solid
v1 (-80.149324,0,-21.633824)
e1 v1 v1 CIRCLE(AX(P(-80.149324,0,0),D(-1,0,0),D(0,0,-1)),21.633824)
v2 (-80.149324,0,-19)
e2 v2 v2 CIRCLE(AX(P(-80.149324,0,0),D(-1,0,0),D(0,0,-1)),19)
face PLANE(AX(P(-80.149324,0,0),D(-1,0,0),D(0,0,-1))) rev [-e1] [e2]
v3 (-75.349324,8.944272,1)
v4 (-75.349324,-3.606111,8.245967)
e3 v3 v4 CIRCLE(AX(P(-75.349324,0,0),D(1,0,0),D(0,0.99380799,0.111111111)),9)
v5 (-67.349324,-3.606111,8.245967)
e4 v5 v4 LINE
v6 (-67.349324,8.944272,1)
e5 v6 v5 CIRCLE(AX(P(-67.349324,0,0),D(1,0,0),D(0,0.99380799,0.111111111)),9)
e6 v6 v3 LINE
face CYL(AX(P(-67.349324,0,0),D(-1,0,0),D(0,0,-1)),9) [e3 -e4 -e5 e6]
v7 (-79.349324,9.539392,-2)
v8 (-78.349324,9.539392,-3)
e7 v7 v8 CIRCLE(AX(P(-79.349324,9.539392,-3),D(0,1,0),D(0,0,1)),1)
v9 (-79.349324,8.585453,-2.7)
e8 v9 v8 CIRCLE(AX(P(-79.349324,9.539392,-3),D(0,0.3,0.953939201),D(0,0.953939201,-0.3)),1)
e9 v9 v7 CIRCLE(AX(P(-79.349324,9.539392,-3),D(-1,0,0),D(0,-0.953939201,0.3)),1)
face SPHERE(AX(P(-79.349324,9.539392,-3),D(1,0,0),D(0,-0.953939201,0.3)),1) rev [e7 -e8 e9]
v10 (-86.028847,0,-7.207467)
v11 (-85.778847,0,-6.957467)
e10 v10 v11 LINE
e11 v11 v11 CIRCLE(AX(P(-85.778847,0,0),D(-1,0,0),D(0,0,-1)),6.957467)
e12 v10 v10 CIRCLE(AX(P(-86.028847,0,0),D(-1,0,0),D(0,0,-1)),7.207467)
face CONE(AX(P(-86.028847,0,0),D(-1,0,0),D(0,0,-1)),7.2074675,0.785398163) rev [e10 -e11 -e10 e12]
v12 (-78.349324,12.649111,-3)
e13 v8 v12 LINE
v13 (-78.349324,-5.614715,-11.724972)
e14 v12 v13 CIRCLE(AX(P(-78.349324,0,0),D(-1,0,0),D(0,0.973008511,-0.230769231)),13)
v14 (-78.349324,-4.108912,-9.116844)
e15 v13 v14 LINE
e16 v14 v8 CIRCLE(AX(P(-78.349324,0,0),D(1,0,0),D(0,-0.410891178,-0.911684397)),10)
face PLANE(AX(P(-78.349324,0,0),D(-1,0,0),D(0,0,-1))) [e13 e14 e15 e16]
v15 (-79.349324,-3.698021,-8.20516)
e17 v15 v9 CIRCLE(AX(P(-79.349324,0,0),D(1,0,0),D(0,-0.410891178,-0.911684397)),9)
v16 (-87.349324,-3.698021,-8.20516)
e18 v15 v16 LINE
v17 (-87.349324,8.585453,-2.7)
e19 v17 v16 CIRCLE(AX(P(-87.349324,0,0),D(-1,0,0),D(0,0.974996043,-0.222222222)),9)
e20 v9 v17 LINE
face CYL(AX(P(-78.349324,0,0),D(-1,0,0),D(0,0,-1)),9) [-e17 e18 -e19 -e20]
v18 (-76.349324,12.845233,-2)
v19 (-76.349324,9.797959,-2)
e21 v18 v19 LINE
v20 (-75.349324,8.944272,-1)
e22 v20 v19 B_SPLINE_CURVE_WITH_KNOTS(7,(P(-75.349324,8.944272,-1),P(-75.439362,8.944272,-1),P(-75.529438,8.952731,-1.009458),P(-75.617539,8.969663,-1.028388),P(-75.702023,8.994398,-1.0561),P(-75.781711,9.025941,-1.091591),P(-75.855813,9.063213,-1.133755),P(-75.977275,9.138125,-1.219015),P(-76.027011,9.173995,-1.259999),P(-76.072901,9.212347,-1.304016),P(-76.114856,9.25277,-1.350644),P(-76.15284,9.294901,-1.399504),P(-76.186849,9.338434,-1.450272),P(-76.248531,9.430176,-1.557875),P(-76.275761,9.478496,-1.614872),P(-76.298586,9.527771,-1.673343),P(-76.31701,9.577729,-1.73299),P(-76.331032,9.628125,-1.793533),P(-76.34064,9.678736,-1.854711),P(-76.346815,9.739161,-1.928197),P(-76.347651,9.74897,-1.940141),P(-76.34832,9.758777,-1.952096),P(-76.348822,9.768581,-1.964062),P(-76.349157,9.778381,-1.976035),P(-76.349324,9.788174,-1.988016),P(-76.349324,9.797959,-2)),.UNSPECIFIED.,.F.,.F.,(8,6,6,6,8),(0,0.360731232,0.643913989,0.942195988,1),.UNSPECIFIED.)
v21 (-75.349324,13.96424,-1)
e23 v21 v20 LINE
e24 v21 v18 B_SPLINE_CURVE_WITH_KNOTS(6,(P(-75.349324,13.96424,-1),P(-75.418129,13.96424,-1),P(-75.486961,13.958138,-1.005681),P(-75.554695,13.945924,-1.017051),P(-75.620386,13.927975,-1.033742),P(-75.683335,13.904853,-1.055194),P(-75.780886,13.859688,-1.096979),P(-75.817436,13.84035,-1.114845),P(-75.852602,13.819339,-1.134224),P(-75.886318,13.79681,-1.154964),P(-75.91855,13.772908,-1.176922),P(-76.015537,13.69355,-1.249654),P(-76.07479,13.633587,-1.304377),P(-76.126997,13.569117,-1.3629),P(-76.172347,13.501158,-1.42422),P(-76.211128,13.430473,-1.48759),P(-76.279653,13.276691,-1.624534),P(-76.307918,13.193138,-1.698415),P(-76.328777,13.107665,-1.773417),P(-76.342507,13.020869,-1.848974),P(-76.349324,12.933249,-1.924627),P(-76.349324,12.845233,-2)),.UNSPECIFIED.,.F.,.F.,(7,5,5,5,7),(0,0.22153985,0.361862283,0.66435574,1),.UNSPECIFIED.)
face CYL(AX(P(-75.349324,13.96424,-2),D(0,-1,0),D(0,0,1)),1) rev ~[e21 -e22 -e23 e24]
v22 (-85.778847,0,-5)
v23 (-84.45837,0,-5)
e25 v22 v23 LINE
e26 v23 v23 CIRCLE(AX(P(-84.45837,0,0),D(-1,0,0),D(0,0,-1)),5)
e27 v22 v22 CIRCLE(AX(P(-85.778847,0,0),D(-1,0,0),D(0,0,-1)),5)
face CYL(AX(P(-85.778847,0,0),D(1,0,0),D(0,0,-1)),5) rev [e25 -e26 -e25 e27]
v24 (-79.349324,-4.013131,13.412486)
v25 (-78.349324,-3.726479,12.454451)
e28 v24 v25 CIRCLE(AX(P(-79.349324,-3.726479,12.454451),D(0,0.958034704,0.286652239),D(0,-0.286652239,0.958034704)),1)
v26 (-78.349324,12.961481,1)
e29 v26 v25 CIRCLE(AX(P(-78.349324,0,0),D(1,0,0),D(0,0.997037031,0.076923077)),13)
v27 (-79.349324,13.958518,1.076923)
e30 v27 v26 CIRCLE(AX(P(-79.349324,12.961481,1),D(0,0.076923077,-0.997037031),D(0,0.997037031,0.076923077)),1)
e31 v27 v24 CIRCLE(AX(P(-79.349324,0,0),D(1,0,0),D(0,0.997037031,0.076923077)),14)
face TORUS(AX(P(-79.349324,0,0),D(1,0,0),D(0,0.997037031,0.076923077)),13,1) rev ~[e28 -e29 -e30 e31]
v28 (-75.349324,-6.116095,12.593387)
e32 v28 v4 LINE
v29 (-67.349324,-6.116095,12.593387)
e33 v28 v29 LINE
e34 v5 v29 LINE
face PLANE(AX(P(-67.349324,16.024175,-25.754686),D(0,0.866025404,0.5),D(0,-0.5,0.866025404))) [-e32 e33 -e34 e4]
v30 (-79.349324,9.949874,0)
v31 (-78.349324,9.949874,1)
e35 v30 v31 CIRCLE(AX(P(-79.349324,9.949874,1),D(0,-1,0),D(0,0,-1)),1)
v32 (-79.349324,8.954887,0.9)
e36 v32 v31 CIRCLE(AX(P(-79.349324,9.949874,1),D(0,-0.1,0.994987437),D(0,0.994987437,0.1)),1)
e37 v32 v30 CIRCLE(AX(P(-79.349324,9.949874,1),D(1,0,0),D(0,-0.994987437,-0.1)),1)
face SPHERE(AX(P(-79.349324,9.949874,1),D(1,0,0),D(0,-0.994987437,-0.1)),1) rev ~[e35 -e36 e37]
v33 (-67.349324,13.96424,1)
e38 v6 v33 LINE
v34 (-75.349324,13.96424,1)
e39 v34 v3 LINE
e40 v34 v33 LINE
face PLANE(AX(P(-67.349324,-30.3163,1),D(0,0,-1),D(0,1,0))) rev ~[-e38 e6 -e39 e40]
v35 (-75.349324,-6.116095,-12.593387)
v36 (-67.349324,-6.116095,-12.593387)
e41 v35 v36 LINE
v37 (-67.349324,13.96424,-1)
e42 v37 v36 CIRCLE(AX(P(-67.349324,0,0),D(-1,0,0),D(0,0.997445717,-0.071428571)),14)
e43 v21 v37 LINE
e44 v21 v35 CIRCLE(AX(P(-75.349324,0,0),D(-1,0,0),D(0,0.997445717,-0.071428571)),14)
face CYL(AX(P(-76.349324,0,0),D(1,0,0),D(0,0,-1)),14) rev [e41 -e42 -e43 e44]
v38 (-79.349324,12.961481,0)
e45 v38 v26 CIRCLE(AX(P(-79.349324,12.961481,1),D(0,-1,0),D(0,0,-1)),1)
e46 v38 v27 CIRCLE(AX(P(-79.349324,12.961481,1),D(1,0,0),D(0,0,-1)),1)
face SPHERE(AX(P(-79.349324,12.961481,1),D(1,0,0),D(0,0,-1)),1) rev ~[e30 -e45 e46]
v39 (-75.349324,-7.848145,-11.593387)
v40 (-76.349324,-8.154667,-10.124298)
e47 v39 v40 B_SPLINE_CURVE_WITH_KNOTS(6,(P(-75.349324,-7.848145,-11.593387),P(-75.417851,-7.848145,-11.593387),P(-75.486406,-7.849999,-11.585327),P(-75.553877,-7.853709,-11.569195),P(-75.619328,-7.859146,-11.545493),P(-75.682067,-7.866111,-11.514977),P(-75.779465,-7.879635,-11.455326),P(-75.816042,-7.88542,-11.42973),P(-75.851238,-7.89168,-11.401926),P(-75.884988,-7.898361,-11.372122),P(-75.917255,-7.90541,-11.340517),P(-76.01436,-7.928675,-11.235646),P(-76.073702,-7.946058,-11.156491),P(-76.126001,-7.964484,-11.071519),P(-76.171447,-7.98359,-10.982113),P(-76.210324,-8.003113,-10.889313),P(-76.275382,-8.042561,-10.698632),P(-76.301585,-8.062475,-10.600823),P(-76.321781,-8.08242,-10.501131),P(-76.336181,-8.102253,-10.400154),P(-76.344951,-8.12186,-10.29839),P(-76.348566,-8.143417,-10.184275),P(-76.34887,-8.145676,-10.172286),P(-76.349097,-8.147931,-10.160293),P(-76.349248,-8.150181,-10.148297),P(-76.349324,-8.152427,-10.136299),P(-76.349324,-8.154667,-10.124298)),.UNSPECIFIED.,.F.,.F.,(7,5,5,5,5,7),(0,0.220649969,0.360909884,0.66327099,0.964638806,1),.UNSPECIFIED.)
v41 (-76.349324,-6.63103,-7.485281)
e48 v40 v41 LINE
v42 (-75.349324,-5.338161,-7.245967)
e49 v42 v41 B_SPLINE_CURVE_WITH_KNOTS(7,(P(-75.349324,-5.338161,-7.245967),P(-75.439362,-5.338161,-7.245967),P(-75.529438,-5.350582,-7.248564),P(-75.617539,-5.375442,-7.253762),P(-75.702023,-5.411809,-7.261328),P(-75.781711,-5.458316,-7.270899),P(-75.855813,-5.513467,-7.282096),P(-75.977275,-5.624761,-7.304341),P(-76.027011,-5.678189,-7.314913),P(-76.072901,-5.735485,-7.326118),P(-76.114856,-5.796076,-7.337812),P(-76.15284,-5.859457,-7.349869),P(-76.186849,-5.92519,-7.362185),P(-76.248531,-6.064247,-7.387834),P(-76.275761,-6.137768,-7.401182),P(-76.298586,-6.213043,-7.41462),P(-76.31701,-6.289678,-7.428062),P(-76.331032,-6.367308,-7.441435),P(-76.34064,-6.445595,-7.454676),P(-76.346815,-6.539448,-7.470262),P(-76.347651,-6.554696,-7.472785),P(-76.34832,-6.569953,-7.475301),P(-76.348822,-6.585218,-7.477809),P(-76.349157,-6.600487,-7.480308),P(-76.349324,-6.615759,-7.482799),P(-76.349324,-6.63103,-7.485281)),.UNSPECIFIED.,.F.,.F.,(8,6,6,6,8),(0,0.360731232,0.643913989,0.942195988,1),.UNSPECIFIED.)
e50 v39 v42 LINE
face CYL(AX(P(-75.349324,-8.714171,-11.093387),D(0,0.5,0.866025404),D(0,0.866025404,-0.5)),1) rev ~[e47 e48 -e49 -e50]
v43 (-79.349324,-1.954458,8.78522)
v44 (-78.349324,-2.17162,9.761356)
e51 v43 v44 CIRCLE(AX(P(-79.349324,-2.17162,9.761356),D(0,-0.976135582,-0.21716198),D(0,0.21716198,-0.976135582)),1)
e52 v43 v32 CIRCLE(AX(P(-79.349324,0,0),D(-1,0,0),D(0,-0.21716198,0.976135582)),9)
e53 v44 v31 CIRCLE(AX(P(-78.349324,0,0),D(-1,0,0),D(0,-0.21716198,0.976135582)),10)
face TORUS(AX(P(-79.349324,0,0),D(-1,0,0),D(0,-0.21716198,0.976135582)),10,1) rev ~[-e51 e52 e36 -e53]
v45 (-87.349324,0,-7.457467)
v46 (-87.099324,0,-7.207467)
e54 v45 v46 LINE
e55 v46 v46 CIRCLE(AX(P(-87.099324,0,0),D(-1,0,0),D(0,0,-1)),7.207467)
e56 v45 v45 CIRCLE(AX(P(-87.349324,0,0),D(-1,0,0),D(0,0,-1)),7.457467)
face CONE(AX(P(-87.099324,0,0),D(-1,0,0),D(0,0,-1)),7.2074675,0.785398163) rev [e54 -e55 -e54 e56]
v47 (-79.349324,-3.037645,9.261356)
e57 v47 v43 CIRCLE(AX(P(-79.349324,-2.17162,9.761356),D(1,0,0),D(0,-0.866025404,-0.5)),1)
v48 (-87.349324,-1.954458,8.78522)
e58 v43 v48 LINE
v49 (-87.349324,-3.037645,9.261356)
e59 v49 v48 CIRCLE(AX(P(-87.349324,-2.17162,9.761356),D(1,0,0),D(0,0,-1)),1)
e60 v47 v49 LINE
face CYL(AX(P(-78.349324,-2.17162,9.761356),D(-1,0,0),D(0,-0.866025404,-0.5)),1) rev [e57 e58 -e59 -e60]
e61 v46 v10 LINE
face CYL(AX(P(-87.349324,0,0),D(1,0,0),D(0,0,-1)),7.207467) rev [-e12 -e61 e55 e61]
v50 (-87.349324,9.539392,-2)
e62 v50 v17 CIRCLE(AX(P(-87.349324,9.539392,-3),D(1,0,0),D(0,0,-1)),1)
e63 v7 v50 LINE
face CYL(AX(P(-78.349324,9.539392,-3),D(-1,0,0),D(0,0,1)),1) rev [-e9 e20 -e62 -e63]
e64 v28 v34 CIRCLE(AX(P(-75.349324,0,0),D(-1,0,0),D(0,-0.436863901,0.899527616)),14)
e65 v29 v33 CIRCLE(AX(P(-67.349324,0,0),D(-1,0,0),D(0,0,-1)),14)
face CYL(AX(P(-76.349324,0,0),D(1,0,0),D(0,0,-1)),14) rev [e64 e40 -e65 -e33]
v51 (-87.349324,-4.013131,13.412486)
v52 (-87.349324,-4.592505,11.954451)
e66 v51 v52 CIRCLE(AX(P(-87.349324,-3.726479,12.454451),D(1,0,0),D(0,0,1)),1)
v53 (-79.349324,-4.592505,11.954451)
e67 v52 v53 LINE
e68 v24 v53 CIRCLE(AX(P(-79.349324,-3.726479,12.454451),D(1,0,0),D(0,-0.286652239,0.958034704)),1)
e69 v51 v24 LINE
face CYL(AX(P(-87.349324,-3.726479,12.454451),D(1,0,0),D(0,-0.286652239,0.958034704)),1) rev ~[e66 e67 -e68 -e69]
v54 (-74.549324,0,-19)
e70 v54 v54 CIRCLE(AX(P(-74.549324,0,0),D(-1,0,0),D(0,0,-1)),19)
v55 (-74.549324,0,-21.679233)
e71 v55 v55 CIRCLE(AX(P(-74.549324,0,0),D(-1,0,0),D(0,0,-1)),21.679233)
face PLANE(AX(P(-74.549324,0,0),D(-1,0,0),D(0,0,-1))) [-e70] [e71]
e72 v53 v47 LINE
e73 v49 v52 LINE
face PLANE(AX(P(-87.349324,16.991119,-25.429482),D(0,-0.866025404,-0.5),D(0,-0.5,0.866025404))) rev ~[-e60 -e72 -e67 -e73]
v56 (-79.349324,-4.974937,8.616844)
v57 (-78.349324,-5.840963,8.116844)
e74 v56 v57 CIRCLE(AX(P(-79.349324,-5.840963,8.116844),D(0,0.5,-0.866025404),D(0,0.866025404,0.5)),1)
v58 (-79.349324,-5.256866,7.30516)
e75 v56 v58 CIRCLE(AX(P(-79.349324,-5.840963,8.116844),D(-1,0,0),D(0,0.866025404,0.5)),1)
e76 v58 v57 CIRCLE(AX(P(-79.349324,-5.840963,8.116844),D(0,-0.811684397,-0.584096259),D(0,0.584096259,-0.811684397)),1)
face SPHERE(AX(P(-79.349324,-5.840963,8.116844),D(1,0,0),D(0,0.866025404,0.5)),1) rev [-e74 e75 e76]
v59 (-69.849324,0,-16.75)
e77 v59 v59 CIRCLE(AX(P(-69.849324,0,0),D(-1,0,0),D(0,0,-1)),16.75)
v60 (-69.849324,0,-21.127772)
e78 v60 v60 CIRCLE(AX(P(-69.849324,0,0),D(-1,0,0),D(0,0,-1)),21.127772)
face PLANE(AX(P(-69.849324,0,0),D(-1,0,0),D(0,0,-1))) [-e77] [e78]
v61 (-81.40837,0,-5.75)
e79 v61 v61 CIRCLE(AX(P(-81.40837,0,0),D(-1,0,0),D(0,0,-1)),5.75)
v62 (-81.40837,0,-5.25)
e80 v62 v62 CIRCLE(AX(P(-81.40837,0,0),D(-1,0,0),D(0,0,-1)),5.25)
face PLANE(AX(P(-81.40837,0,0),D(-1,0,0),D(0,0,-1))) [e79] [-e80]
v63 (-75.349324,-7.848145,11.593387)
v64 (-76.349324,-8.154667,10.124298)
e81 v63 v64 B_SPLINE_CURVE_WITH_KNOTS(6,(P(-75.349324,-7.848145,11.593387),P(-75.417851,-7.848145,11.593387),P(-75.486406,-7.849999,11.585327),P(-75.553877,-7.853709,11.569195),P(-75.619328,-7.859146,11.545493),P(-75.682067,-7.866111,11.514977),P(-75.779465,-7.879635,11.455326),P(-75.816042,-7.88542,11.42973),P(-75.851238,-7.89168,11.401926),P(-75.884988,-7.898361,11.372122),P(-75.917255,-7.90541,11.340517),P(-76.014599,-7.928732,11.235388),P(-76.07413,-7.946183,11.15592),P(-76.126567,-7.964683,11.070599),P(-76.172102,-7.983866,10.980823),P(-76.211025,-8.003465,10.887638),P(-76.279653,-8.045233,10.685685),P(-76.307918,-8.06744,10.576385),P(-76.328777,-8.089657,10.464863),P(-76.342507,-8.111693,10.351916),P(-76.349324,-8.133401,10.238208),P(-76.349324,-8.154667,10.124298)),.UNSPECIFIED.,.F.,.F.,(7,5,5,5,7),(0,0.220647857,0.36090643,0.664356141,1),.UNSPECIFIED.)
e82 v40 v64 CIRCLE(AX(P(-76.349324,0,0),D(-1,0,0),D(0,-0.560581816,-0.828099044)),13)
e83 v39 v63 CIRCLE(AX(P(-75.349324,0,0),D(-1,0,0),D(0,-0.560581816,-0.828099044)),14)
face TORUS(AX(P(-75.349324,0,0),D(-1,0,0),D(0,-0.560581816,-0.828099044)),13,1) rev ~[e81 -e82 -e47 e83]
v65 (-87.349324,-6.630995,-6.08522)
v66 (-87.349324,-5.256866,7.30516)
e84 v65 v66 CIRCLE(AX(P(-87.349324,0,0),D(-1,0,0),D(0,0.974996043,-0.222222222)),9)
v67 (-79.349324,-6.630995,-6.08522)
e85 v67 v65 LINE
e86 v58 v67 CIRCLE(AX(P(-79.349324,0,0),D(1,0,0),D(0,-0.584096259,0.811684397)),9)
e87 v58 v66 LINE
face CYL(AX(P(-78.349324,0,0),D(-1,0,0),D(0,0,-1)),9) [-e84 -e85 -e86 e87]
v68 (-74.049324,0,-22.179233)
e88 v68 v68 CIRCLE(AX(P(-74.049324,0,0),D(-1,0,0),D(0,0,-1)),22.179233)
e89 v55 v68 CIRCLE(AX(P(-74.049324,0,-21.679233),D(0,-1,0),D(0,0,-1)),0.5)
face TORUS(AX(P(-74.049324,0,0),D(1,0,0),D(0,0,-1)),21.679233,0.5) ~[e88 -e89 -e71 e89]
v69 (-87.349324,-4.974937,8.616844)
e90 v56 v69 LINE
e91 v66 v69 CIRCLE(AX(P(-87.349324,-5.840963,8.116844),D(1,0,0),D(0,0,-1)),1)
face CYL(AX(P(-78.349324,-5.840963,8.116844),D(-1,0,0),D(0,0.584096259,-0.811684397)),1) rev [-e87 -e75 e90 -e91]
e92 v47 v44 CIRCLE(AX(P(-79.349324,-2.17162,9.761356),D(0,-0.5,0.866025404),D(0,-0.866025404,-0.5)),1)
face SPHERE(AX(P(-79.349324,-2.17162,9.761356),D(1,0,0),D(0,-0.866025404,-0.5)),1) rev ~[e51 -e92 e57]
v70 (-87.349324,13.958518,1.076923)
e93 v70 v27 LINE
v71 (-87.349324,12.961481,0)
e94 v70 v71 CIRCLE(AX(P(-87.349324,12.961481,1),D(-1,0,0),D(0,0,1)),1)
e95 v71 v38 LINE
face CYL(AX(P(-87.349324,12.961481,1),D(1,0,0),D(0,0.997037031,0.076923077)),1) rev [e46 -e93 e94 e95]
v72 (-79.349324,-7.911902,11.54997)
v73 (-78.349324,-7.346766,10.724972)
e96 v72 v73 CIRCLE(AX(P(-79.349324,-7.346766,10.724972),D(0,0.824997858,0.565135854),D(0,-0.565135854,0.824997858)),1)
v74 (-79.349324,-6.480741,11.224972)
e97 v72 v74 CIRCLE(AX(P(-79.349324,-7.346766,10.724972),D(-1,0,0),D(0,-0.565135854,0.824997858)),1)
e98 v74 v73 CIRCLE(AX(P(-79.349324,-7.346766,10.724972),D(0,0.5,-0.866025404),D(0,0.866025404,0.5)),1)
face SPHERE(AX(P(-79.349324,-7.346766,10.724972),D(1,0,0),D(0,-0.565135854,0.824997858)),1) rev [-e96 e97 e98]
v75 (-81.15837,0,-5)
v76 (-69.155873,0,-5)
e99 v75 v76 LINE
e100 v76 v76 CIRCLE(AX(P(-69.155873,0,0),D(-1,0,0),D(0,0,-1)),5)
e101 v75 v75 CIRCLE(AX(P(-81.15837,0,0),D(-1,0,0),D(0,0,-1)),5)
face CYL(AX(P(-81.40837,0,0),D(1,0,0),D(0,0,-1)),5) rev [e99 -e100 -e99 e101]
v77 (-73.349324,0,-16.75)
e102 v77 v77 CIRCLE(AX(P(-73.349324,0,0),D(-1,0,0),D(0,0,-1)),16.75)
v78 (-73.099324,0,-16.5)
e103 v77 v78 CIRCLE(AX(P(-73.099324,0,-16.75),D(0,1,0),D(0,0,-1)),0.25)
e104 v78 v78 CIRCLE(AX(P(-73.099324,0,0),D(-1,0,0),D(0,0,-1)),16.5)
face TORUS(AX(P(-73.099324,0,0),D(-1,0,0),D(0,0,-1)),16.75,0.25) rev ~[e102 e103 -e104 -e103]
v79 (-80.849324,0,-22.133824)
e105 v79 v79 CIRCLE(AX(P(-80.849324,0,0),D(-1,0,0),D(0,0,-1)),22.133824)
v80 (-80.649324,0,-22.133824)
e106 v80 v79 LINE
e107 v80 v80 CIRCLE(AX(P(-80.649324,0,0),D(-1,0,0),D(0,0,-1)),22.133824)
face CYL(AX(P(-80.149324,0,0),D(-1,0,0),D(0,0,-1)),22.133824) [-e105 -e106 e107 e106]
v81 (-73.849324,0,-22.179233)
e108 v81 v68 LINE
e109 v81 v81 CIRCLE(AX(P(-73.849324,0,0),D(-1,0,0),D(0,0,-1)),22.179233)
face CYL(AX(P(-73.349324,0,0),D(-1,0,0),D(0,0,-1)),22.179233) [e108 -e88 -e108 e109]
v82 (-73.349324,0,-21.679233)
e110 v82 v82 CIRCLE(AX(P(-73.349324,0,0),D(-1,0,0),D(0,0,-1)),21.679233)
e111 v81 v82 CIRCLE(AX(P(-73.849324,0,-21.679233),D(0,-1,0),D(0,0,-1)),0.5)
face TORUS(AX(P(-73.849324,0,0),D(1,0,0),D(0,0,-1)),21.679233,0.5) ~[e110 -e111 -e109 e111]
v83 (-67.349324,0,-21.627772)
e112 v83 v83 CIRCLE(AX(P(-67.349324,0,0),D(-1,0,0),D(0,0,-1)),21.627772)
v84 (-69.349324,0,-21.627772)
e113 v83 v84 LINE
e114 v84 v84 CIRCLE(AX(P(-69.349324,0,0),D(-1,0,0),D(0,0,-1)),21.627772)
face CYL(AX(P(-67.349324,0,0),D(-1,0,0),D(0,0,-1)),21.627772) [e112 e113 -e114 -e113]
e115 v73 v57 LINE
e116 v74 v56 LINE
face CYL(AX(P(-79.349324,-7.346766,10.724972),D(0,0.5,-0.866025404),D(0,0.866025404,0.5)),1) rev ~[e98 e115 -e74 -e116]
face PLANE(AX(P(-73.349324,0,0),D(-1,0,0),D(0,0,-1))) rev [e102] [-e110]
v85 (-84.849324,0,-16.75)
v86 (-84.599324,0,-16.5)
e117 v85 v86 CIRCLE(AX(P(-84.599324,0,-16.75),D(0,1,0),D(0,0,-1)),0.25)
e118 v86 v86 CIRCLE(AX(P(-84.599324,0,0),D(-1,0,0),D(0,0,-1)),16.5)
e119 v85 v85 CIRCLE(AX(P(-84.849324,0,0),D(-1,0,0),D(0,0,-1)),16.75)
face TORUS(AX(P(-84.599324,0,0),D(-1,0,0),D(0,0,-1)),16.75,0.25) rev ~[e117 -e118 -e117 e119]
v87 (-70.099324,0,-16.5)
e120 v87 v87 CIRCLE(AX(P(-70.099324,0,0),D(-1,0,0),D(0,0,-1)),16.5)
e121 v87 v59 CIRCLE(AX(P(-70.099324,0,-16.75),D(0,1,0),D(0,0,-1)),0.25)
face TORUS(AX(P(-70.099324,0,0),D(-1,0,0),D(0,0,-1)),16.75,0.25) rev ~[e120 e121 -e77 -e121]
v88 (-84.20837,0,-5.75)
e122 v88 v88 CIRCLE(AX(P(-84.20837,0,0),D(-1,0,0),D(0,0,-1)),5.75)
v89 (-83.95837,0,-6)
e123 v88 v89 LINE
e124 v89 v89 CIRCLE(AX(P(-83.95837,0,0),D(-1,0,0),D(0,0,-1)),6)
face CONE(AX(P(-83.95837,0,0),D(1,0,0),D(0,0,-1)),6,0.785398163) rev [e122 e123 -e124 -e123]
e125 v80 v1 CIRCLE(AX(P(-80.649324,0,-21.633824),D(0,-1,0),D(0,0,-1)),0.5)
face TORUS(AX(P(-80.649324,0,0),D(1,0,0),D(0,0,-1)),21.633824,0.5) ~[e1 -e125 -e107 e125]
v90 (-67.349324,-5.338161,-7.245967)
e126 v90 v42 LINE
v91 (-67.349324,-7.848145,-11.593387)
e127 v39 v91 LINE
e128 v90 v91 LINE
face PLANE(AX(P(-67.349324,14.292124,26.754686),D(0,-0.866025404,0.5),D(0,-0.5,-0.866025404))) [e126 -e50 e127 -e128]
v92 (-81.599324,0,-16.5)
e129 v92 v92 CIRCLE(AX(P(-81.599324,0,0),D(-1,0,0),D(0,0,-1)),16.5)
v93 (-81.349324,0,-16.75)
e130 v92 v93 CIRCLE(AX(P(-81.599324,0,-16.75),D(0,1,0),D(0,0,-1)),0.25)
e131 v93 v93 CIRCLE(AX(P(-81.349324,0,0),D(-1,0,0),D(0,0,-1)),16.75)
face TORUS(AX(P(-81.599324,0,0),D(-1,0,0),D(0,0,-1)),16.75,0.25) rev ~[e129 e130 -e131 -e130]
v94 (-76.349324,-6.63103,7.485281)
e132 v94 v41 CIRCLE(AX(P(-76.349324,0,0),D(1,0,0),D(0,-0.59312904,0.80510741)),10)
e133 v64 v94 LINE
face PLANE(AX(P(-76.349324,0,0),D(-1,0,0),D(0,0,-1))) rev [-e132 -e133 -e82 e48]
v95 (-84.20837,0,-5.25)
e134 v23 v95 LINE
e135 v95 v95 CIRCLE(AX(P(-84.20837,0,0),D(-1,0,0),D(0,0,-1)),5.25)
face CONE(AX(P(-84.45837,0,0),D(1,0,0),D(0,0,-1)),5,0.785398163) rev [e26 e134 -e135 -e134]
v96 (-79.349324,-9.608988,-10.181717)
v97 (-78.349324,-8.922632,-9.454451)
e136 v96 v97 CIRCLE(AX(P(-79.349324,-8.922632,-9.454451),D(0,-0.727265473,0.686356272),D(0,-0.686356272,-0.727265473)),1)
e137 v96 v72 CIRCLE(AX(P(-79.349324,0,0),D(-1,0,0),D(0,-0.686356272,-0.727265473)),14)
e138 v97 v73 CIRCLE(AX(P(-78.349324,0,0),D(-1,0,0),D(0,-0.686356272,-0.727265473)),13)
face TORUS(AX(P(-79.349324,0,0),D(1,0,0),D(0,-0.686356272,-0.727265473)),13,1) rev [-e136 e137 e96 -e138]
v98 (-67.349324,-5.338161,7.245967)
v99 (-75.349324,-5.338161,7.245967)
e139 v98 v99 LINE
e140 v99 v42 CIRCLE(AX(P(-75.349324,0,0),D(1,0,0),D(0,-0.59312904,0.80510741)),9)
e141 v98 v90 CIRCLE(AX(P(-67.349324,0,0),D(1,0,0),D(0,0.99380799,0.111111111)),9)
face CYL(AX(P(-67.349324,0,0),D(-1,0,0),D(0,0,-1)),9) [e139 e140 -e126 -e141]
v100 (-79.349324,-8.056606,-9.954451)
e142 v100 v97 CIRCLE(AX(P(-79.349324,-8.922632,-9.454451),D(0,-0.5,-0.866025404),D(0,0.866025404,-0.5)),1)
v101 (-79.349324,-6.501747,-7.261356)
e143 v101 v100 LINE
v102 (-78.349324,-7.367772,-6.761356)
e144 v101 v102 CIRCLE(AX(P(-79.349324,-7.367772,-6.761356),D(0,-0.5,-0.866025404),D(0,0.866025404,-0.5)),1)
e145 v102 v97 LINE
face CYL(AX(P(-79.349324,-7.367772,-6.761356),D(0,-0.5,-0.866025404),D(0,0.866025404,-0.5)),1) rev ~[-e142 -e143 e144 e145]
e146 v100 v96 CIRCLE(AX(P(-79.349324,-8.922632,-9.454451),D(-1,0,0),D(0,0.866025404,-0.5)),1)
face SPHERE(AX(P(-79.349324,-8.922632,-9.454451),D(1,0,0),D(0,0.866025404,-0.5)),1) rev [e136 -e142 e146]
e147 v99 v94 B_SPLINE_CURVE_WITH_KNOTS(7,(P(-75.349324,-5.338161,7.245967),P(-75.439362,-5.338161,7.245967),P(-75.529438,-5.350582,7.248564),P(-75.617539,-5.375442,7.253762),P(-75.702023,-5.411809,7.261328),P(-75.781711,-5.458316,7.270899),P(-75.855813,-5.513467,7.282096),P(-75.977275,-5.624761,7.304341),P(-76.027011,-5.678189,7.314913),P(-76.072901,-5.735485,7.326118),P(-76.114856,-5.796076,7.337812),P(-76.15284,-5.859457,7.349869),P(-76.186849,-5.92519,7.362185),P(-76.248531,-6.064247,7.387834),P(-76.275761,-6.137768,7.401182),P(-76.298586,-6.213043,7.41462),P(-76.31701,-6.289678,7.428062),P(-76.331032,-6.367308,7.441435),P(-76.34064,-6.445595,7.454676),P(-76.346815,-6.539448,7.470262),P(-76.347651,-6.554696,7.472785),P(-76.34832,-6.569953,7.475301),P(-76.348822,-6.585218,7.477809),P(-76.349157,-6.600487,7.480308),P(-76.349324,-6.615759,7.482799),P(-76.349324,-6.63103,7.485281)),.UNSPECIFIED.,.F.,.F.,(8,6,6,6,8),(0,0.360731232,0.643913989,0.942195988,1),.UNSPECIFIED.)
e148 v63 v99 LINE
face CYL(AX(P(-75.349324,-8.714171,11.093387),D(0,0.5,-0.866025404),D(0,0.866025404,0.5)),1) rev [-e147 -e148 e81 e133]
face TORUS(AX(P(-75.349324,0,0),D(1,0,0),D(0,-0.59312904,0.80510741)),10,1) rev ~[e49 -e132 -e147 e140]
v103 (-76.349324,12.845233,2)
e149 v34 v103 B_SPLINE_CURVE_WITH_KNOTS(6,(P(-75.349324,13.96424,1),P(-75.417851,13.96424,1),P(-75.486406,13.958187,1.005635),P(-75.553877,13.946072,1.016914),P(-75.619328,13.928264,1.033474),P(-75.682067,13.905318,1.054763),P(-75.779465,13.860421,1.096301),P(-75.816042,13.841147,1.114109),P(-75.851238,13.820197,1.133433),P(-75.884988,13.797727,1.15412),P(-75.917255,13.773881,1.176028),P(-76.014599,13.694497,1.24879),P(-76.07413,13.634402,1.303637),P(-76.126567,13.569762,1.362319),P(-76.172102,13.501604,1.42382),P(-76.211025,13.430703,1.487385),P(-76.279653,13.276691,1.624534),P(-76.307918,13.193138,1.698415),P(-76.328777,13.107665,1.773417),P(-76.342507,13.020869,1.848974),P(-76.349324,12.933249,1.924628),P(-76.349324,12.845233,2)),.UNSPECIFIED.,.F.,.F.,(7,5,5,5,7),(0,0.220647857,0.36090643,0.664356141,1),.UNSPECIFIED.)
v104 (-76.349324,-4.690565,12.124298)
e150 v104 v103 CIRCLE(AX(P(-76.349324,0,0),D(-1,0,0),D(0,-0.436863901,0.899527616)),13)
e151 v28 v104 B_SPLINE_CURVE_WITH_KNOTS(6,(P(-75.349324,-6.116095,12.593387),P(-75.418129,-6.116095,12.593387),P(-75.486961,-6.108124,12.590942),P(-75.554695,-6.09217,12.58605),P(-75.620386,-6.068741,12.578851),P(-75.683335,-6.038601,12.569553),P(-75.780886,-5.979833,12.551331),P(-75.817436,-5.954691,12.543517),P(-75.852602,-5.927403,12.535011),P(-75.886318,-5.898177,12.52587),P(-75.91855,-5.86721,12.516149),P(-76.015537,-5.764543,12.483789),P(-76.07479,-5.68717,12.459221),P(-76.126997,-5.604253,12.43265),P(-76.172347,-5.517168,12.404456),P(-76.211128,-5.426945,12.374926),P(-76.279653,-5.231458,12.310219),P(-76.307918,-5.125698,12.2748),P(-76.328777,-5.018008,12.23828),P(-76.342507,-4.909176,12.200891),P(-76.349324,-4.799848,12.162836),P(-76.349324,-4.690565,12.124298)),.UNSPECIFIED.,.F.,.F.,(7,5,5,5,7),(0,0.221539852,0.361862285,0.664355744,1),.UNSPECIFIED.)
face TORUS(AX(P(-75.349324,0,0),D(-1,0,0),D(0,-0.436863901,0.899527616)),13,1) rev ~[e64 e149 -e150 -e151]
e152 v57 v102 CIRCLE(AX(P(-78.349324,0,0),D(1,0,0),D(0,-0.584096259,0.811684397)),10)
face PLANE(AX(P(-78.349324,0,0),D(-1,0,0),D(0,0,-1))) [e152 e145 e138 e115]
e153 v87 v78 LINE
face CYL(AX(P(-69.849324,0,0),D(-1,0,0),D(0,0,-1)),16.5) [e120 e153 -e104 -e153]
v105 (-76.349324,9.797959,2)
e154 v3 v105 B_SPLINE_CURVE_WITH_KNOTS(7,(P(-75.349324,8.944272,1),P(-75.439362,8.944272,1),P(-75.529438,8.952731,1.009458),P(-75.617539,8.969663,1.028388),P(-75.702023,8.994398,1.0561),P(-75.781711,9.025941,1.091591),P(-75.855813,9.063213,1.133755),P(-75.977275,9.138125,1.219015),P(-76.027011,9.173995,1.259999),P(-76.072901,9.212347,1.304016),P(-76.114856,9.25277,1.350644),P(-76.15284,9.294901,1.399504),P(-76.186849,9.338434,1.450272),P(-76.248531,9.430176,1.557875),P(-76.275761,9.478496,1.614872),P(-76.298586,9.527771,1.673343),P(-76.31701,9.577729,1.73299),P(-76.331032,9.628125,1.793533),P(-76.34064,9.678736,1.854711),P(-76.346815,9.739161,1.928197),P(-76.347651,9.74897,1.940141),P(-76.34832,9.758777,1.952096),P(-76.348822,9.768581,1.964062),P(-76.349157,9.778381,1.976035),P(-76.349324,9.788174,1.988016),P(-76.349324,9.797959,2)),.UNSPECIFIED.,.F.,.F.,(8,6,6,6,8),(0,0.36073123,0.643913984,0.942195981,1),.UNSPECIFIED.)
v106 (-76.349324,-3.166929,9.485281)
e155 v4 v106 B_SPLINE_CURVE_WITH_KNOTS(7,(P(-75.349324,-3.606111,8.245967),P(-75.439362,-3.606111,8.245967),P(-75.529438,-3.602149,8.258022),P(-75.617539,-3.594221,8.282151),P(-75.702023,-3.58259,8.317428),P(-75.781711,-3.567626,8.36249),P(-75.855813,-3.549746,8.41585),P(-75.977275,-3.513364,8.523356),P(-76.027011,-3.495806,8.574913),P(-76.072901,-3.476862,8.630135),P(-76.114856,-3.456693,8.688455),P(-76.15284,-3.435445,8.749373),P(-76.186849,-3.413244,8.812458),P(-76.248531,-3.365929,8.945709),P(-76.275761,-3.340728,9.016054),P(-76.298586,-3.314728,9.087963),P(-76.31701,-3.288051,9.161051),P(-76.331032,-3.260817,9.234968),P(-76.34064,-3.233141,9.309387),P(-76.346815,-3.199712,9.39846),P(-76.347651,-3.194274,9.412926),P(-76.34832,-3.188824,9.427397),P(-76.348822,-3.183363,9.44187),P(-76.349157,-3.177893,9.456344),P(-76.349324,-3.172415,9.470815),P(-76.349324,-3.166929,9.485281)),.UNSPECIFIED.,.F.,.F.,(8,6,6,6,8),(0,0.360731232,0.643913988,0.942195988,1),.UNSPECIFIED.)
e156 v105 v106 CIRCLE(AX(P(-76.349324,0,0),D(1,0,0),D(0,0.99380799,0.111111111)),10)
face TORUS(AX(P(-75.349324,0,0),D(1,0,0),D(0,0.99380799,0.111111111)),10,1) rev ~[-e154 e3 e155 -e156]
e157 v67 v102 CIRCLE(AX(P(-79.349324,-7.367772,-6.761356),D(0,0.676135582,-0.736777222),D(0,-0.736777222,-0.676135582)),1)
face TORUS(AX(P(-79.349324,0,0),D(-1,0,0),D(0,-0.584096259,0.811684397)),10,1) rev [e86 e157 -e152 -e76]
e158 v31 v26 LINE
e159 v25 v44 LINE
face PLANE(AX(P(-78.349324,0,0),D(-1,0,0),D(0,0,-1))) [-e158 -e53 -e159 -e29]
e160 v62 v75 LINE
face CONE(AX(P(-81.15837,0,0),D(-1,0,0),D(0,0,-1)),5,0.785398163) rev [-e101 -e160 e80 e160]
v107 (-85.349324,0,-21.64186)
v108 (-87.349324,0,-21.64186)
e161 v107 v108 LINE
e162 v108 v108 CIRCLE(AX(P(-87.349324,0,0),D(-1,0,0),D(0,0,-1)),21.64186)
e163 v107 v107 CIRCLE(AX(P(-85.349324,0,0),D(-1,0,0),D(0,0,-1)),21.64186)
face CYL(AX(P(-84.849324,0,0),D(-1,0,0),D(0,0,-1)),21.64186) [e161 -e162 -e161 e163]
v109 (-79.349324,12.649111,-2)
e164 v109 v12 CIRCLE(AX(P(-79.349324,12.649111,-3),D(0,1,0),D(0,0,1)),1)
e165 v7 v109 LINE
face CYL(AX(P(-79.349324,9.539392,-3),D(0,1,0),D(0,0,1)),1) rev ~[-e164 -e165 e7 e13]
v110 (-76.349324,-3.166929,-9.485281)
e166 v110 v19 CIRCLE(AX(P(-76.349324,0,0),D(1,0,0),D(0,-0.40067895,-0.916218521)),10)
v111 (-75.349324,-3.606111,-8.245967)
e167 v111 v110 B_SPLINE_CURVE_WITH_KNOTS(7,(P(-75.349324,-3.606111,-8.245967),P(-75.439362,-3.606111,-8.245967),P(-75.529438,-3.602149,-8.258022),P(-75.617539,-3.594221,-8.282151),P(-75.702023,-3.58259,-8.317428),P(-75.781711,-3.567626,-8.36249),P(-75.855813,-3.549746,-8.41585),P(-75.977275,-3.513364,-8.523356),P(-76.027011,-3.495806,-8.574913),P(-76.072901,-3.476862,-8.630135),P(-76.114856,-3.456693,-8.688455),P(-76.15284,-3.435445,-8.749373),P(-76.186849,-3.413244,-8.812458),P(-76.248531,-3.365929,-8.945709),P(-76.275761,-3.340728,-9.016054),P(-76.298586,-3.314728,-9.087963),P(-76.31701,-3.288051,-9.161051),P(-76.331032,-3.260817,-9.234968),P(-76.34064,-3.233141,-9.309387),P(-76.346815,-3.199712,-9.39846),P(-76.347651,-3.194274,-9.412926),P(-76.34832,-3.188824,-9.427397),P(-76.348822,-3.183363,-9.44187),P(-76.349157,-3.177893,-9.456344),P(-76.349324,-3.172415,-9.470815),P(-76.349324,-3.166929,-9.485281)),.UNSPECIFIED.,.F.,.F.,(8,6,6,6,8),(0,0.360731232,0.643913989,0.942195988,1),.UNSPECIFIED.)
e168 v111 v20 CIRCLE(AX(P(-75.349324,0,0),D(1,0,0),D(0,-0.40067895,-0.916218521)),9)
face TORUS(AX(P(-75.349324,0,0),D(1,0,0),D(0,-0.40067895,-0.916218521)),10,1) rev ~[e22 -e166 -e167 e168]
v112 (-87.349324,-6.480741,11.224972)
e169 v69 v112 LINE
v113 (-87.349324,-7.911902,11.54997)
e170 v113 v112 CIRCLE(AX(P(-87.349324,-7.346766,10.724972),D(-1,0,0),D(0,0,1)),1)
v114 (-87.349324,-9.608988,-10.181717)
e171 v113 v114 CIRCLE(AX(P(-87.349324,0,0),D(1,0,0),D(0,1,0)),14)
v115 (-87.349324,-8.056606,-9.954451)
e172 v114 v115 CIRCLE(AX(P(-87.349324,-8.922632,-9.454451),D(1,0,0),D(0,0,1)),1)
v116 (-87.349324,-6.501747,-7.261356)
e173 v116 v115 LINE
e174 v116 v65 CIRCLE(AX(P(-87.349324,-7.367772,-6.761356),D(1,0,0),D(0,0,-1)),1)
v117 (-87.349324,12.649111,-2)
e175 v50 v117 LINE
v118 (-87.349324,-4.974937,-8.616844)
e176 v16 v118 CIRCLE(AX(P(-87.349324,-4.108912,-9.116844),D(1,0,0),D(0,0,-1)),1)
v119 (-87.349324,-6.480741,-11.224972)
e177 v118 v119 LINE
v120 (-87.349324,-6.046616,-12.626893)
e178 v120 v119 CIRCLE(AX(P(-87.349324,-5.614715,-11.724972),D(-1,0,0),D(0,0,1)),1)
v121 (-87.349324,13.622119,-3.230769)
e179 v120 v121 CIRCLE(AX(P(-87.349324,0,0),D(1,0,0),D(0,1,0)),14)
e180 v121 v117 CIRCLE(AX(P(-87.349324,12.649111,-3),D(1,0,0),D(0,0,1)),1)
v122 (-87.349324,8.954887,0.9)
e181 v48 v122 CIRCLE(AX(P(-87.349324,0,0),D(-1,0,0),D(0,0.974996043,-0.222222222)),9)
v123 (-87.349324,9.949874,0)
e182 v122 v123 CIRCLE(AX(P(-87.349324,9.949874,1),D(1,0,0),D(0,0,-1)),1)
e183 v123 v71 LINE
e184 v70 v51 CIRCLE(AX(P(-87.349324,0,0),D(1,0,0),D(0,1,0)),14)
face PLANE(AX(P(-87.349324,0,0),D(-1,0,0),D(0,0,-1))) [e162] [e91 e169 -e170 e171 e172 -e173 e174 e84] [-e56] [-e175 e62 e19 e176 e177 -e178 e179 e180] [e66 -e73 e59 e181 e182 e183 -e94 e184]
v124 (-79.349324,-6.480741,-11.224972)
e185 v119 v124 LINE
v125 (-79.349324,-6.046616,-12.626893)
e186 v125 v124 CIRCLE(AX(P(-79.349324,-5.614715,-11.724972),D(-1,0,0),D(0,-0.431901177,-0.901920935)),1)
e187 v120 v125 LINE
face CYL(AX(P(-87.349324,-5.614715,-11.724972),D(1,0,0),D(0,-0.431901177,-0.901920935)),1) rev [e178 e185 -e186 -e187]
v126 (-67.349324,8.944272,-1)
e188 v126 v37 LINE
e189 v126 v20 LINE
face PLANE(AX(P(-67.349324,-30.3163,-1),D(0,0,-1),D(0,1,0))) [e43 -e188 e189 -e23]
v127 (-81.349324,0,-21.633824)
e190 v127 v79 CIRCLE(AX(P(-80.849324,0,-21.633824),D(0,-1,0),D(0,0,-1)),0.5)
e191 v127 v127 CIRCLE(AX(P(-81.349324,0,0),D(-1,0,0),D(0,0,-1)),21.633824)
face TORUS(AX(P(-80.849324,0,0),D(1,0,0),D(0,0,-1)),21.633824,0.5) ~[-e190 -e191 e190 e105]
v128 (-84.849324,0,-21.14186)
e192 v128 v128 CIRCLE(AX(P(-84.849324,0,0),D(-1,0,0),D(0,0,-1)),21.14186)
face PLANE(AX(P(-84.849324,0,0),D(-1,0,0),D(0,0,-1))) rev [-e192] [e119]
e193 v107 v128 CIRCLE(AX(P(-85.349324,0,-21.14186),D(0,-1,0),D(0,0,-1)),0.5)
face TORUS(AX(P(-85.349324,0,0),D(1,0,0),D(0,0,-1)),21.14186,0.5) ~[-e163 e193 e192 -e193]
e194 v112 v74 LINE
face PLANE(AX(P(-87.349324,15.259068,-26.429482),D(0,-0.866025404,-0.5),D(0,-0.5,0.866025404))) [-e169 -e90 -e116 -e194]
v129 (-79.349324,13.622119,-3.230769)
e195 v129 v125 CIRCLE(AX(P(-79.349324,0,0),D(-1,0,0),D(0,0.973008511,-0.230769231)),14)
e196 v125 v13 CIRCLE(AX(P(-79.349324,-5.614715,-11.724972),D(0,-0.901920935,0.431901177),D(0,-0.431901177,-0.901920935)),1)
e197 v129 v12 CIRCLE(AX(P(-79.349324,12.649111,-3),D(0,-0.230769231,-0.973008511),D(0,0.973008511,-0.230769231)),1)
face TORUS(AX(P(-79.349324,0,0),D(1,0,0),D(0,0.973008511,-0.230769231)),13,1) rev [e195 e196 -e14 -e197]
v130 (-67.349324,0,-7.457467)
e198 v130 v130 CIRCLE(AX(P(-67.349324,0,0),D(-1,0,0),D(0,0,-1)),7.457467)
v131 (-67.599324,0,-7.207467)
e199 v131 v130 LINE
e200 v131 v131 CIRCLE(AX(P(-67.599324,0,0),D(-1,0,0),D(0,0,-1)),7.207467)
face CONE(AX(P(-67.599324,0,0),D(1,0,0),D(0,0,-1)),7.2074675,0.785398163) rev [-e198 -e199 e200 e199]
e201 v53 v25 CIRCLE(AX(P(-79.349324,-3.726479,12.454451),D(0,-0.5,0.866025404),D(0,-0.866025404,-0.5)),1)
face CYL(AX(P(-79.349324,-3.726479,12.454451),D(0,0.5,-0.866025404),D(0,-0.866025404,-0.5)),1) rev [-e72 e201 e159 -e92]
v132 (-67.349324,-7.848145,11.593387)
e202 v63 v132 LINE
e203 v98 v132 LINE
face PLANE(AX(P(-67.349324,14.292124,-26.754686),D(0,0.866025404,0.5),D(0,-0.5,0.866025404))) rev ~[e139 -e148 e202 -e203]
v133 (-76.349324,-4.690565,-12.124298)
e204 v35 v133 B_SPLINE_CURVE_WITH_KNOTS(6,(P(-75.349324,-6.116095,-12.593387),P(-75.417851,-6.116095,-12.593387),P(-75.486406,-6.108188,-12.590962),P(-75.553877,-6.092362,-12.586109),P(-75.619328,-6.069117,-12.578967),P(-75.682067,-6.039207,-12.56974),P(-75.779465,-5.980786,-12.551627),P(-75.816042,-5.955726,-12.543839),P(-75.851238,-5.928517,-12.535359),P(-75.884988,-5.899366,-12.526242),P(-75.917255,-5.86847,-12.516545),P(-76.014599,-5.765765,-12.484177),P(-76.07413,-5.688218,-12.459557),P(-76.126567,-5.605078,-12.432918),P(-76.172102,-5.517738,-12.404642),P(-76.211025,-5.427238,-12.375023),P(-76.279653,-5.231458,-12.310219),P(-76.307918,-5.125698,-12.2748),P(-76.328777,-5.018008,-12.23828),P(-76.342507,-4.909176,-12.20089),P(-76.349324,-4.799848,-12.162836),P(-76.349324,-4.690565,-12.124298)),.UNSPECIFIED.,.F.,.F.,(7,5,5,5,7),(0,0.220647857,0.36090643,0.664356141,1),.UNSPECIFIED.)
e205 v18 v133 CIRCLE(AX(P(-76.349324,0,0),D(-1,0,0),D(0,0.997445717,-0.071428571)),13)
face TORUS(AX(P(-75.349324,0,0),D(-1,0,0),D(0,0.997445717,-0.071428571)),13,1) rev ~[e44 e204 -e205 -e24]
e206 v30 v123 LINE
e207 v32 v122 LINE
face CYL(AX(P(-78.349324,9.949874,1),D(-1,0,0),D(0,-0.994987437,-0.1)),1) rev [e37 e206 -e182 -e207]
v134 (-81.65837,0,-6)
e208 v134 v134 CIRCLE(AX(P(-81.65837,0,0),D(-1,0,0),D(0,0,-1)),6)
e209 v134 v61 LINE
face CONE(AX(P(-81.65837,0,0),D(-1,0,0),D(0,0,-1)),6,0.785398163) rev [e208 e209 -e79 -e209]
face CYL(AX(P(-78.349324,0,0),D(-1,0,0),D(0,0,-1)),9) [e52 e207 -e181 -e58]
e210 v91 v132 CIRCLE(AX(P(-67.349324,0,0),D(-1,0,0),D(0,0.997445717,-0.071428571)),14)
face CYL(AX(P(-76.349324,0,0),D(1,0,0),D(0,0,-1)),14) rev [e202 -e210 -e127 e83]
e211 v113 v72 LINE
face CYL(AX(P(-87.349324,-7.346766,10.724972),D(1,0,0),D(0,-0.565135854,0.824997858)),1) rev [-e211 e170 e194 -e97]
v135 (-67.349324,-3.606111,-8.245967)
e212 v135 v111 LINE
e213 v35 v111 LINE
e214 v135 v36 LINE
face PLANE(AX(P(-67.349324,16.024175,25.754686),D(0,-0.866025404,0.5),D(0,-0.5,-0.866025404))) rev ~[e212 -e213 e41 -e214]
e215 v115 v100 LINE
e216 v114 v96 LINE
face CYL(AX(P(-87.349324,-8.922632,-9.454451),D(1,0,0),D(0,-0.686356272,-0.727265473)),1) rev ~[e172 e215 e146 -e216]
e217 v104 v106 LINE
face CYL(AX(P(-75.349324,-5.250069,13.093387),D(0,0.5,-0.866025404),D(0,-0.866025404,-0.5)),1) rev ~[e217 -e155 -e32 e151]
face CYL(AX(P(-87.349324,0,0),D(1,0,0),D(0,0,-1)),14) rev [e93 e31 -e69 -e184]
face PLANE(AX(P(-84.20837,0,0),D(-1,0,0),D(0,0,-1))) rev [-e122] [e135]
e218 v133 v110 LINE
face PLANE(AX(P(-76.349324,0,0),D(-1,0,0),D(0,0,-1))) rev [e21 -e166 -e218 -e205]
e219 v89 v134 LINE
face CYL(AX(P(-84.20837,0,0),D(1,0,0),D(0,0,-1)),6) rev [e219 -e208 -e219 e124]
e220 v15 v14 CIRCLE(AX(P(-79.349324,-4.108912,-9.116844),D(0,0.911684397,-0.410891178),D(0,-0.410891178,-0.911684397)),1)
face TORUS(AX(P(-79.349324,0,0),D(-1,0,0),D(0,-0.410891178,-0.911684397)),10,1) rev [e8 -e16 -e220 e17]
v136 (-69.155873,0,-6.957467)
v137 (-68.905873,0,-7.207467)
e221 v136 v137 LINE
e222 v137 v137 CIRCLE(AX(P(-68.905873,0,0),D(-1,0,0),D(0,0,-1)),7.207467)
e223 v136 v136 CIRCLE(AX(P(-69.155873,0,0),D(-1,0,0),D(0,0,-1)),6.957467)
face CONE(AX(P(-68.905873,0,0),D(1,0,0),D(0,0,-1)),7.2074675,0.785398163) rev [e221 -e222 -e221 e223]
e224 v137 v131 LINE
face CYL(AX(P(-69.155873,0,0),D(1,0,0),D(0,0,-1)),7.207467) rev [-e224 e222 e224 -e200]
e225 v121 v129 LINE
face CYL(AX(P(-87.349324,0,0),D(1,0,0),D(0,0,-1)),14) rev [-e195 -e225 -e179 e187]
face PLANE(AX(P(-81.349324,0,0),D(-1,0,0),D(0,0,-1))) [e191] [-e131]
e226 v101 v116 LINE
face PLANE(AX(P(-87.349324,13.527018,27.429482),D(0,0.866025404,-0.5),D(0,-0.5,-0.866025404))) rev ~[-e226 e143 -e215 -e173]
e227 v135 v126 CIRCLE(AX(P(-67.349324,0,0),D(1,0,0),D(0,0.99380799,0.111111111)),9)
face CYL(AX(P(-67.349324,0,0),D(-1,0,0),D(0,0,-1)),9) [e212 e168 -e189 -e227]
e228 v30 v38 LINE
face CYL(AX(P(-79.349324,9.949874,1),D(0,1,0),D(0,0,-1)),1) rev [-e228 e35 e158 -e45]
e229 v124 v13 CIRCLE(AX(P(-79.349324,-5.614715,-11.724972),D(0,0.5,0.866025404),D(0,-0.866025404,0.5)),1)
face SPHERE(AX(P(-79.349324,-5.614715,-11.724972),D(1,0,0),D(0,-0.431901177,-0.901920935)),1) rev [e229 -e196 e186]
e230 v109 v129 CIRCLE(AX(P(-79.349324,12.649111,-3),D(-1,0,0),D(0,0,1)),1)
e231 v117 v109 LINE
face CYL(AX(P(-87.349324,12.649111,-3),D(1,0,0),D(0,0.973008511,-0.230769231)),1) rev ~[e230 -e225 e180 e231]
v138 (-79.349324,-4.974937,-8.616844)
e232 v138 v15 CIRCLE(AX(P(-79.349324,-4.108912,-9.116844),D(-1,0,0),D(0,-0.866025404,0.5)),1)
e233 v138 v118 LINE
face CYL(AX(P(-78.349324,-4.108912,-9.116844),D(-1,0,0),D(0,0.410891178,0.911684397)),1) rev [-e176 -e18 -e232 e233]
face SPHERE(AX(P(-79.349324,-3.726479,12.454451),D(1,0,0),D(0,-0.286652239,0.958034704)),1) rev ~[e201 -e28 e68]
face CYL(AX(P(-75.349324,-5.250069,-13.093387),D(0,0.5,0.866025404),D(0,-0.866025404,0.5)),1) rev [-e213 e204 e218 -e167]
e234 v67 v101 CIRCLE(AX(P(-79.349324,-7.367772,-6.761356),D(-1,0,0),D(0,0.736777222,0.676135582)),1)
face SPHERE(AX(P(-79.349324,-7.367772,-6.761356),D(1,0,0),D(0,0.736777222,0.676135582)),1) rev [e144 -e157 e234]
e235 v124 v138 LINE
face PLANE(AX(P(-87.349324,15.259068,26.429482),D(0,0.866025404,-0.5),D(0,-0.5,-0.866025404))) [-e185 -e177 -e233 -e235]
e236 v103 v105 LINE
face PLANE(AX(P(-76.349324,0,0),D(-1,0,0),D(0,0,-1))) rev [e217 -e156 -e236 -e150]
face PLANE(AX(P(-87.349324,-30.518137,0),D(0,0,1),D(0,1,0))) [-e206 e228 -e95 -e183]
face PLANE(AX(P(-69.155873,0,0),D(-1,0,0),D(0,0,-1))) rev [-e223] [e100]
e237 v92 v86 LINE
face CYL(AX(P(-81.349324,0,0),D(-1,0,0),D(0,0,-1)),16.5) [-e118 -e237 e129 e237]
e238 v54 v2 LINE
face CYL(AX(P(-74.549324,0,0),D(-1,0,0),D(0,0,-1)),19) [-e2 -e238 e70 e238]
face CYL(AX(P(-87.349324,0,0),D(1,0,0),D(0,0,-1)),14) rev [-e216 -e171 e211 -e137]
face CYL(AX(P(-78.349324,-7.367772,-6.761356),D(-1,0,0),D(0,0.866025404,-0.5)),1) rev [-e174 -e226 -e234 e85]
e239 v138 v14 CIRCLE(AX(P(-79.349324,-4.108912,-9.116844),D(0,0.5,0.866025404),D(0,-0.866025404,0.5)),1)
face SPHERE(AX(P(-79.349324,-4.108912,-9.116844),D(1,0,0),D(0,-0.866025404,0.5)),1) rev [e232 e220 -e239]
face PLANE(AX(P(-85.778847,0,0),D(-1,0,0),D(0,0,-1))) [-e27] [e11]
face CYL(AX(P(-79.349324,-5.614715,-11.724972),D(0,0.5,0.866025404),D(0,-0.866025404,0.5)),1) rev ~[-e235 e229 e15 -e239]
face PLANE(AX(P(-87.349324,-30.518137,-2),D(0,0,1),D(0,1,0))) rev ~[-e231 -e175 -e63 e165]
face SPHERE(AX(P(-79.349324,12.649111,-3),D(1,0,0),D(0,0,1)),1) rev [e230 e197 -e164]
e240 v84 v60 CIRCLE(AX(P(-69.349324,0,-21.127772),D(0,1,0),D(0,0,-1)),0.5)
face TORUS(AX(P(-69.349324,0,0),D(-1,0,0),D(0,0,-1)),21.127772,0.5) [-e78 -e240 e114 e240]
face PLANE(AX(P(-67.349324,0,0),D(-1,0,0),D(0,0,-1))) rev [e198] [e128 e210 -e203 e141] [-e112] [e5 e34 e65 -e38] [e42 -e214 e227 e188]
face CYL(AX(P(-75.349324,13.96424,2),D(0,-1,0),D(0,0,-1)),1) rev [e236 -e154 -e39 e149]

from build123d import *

# Parameters (mm, degrees)
CHAFL_N1_SIZE     = 0.25
REDONDEO1_R       = 0.5
RIB2_REACH        = 39.2
SKETCH4_WALLS_W   = 2
SKETCH4_WALLS_H   = 84.196532302
CIRPATTERN2_COUNT = 3
RIB3_REACH        = 39.2
SKETCH5_WALLS_W   = 2
SKETCH5_WALLS_H   = 83.624400687
CIRPATTERN3_COUNT = 3
FILLET4_R         = 1
FILLET5_R         = 1
CHAFL_N2_SIZE     = 0.25
REDONDEO3_R       = 0.25


with BuildPart() as part:
    # Sketch1 → Revolución1 (revolve)
    with BuildSketch(Plane.XY, mode=Mode.PRIVATE) as revoluci_n1_sk:
        Polygon((-67.349324085, 21.627771976), (-69.849324085, 21.627771976), (-69.849324085, 16.5), (-73.349324085, 16.5), (-73.349324085, 22.179232841), (-74.549324085, 22.179232841), (-74.549324085, 19), (-80.149324085, 19), (-80.149324085, 22.133824487), (-81.349324085, 22.133824487), (-81.349324085, 16.5), (-84.849324085, 16.5), (-84.849324085, 21.641860401), (-87.349324085, 21.641860401), (-87.349324085, 14), (-78.349324085, 14), (-78.349324085, 9), (-87.349324085, 9), (-87.349324085, 7.2074675), (-85.778847005, 7.2074675), (-85.778847005, 5), (-84.208369925, 5), (-84.208369925, 6), (-81.408369925, 6), (-81.408369925, 5), (-69.155872635, 5), (-69.155872635, 7.2074675), (-67.349324085, 7.2074675), (-67.349324085, 9), (-76.349324085, 9), (-76.349324085, 14), (-67.349324085, 14), align=None)
    revolve(revoluci_n1_sk.sketch.rotate(Axis((0, 0, 0), (-1, 0, 0)), 90), axis=Axis((0, 0, 0), (-1, 0, 0)))

    # Chaflán1
    chafl_n1_edges = [part.edges().sort_by_distance(p)[0] for p in [
        (-81.408369925, 0, 5),
        (-81.408369925, 0, 6),
        (-84.208369925, 0, 6),
        (-84.208369925, 0, 5),
    ]]
    chamfer(chafl_n1_edges, length=CHAFL_N1_SIZE)

    # Redondeo1
    redondeo1_edges = [part.edges().sort_by_distance(p)[0] for p in [
        (-84.849324085, 0, 21.641860401),
        (-81.349324085, 0, 22.133824487),
        (-80.149324085, 0, 22.133824487),
        (-74.549324085, 0, 22.179232841),
        (-73.349324085, 0, 22.179232841),
        (-69.849324085, 0, 21.627771976),
    ]]
    fillet(redondeo1_edges, radius=REDONDEO1_R)

    # Sketch4 walls → Rib2 (add, up to next)
    with BuildSketch(Plane.ZY.offset(87.349324085), mode=Mode.PRIVATE) as rib2_sk1:
        with Locations((-1, 11.580129465)):
            Rectangle(SKETCH4_WALLS_W, SKETCH4_WALLS_H)
    rib2_tool1 = extrude(rib2_sk1.sketch, amount=-RIB2_REACH, mode=Mode.PRIVATE) - part.part
    rib2 = rib2_tool1.solids().sort_by_distance((-87.349324085, 11.580129465, 0))[0]
    add(rib2)

    # CirPattern2: Rib2 ×3 about axis
    cirpattern2_axis = Axis((0, 0, 0), (1, 0, 0))
    for i in range(1, CIRPATTERN2_COUNT):
        add(rib2.rotate(cirpattern2_axis, i * 360 / CIRPATTERN2_COUNT))

    # Sketch5 walls → Rib3 (add, up to next)
    with BuildSketch(Plane(origin=(-67.349324085, 0, 0), x_dir=(0, 0, -1), z_dir=(1, 0, 0)), mode=Mode.PRIVATE) as rib3_sk1:
        with Locations((0, 11.495900795)):
            Rectangle(SKETCH5_WALLS_W, SKETCH5_WALLS_H)
    rib3_tool1 = extrude(rib3_sk1.sketch, amount=-RIB3_REACH, mode=Mode.PRIVATE) - part.part
    rib3 = rib3_tool1.solids().sort_by_distance((-67.349324085, 11.495900795, 0))[0]
    add(rib3)

    # CirPattern3: Rib3 ×3 about axis
    cirpattern3_axis = Axis((0, 0, 0), (1, 0, 0))
    for i in range(1, CIRPATTERN3_COUNT):
        add(rib3.rotate(cirpattern3_axis, i * 360 / CIRPATTERN3_COUNT))

    # Fillet4
    fillet4_edges = [part.edges().sort_by_distance(p)[0] for p in [
        (-82.849324085, 8.774964387, -2),
        (-82.849324085, 13.856406461, -2),
        (-82.849324085, 14, 0),
        (-82.849324085, 9, 0),
        (-82.849324085, -6.119533001, -6.599342077),
        (-82.849324085, -8.660254038, -11),
        (-82.849324085, -7, -12.124355653),
        (-82.849324085, -4.5, -7.794228634),
        (-82.849324085, -2.655431386, 8.599342077),
        (-82.849324085, -5.196152423, 13),
        (-82.849324085, -7, 12.124355653),
        (-82.849324085, -4.5, 7.794228634),
    ]]
    fillet(fillet4_edges, radius=FILLET4_R)

    # Fillet5
    fillet5_edges = [part.edges().sort_by_distance(p)[0] for p in [
        (-76.349324085, 7, 12.124355653),
        (-76.349324085, 4.5, 7.794228634),
        (-76.349324085, 11.454255977, 1),
        (-76.349324085, 11.454255977, -1),
        (-76.349324085, 7, -12.124355653),
        (-76.349324085, 4.5, -7.794228634),
        (-76.349324085, -4.861102585, -10.419676657),
        (-76.349324085, -6.593153392, -9.419676657),
        (-76.349324085, -14, 0),
        (-76.349324085, -9, 0),
        (-76.349324085, -6.593153392, 9.419676657),
        (-76.349324085, -4.861102585, 10.419676657),
        (-78.349324085, -5.727838942, 9.920908065),
        (-78.349324085, -13.957504991, 1.089979097),
        (-78.349324085, -7.279176471, -8.607903486),
        (-78.349324085, -8.952981604, 0.918760248),
        (-78.349324085, -4.863290764, 7.906706392),
        (-78.349324085, -6.373756227, -6.65212117),
        (-78.349324085, -8.777777646, -10.443904207),
        (-78.349324085, -7.12531739, 11.70014418),
        (-78.349324085, 7.922702083, 11.542564347),
        (-78.349324085, -3.815074856, 10.607903486),
        (-78.349324085, 11.455677884, 0),
        (-78.349324085, 5.272160517, 7.294129385),
        (-78.349324085, 9.279053978, 0.258380151),
        (-78.349324085, 13.695280783, 0.32063378),
        (-78.349324085, -2.574027809, 8.845895395),
        (-78.349324085, -4.655797535, 12.823730534),
        (-78.349324085, 3.680821088, -8.212889633),
        (-78.349324085, 11.094251327, -2),
        (-78.349324085, 6.034802908, -12.632543444),
        (-78.349324085, -5.727838942, -9.920908065),
        (-78.349324085, 13.433575181, -2.379826327),
        (-78.349324085, -4.415763214, -8.165086544),
        (-78.349324085, -6.569963393, -12.020777959),
        (-78.349324085, 8.947784036, -2.193774225),
    ]]
    fillet(fillet5_edges, radius=FILLET5_R)

    # Chaflán2
    chafl_n2_edges = [part.edges().sort_by_distance(p)[0] for p in [
        (-69.155872635, 0, 7.2074675),
        (-85.778847005, 0, 7.2074675),
        (-87.349324085, 0, 7.2074675),
        (-67.349324085, 0, 7.2074675),
    ]]
    chamfer(chafl_n2_edges, length=CHAFL_N2_SIZE)

    # Redondeo3
    redondeo3_edges = [part.edges().sort_by_distance(p)[0] for p in [
        (-84.849324085, 0, 16.5),
        (-81.349324085, 0, 16.5),
        (-73.349324085, 0, 16.5),
        (-69.849324085, 0, 16.5),
    ]]
    fillet(redondeo3_edges, radius=REDONDEO3_R)


solid = part.part
